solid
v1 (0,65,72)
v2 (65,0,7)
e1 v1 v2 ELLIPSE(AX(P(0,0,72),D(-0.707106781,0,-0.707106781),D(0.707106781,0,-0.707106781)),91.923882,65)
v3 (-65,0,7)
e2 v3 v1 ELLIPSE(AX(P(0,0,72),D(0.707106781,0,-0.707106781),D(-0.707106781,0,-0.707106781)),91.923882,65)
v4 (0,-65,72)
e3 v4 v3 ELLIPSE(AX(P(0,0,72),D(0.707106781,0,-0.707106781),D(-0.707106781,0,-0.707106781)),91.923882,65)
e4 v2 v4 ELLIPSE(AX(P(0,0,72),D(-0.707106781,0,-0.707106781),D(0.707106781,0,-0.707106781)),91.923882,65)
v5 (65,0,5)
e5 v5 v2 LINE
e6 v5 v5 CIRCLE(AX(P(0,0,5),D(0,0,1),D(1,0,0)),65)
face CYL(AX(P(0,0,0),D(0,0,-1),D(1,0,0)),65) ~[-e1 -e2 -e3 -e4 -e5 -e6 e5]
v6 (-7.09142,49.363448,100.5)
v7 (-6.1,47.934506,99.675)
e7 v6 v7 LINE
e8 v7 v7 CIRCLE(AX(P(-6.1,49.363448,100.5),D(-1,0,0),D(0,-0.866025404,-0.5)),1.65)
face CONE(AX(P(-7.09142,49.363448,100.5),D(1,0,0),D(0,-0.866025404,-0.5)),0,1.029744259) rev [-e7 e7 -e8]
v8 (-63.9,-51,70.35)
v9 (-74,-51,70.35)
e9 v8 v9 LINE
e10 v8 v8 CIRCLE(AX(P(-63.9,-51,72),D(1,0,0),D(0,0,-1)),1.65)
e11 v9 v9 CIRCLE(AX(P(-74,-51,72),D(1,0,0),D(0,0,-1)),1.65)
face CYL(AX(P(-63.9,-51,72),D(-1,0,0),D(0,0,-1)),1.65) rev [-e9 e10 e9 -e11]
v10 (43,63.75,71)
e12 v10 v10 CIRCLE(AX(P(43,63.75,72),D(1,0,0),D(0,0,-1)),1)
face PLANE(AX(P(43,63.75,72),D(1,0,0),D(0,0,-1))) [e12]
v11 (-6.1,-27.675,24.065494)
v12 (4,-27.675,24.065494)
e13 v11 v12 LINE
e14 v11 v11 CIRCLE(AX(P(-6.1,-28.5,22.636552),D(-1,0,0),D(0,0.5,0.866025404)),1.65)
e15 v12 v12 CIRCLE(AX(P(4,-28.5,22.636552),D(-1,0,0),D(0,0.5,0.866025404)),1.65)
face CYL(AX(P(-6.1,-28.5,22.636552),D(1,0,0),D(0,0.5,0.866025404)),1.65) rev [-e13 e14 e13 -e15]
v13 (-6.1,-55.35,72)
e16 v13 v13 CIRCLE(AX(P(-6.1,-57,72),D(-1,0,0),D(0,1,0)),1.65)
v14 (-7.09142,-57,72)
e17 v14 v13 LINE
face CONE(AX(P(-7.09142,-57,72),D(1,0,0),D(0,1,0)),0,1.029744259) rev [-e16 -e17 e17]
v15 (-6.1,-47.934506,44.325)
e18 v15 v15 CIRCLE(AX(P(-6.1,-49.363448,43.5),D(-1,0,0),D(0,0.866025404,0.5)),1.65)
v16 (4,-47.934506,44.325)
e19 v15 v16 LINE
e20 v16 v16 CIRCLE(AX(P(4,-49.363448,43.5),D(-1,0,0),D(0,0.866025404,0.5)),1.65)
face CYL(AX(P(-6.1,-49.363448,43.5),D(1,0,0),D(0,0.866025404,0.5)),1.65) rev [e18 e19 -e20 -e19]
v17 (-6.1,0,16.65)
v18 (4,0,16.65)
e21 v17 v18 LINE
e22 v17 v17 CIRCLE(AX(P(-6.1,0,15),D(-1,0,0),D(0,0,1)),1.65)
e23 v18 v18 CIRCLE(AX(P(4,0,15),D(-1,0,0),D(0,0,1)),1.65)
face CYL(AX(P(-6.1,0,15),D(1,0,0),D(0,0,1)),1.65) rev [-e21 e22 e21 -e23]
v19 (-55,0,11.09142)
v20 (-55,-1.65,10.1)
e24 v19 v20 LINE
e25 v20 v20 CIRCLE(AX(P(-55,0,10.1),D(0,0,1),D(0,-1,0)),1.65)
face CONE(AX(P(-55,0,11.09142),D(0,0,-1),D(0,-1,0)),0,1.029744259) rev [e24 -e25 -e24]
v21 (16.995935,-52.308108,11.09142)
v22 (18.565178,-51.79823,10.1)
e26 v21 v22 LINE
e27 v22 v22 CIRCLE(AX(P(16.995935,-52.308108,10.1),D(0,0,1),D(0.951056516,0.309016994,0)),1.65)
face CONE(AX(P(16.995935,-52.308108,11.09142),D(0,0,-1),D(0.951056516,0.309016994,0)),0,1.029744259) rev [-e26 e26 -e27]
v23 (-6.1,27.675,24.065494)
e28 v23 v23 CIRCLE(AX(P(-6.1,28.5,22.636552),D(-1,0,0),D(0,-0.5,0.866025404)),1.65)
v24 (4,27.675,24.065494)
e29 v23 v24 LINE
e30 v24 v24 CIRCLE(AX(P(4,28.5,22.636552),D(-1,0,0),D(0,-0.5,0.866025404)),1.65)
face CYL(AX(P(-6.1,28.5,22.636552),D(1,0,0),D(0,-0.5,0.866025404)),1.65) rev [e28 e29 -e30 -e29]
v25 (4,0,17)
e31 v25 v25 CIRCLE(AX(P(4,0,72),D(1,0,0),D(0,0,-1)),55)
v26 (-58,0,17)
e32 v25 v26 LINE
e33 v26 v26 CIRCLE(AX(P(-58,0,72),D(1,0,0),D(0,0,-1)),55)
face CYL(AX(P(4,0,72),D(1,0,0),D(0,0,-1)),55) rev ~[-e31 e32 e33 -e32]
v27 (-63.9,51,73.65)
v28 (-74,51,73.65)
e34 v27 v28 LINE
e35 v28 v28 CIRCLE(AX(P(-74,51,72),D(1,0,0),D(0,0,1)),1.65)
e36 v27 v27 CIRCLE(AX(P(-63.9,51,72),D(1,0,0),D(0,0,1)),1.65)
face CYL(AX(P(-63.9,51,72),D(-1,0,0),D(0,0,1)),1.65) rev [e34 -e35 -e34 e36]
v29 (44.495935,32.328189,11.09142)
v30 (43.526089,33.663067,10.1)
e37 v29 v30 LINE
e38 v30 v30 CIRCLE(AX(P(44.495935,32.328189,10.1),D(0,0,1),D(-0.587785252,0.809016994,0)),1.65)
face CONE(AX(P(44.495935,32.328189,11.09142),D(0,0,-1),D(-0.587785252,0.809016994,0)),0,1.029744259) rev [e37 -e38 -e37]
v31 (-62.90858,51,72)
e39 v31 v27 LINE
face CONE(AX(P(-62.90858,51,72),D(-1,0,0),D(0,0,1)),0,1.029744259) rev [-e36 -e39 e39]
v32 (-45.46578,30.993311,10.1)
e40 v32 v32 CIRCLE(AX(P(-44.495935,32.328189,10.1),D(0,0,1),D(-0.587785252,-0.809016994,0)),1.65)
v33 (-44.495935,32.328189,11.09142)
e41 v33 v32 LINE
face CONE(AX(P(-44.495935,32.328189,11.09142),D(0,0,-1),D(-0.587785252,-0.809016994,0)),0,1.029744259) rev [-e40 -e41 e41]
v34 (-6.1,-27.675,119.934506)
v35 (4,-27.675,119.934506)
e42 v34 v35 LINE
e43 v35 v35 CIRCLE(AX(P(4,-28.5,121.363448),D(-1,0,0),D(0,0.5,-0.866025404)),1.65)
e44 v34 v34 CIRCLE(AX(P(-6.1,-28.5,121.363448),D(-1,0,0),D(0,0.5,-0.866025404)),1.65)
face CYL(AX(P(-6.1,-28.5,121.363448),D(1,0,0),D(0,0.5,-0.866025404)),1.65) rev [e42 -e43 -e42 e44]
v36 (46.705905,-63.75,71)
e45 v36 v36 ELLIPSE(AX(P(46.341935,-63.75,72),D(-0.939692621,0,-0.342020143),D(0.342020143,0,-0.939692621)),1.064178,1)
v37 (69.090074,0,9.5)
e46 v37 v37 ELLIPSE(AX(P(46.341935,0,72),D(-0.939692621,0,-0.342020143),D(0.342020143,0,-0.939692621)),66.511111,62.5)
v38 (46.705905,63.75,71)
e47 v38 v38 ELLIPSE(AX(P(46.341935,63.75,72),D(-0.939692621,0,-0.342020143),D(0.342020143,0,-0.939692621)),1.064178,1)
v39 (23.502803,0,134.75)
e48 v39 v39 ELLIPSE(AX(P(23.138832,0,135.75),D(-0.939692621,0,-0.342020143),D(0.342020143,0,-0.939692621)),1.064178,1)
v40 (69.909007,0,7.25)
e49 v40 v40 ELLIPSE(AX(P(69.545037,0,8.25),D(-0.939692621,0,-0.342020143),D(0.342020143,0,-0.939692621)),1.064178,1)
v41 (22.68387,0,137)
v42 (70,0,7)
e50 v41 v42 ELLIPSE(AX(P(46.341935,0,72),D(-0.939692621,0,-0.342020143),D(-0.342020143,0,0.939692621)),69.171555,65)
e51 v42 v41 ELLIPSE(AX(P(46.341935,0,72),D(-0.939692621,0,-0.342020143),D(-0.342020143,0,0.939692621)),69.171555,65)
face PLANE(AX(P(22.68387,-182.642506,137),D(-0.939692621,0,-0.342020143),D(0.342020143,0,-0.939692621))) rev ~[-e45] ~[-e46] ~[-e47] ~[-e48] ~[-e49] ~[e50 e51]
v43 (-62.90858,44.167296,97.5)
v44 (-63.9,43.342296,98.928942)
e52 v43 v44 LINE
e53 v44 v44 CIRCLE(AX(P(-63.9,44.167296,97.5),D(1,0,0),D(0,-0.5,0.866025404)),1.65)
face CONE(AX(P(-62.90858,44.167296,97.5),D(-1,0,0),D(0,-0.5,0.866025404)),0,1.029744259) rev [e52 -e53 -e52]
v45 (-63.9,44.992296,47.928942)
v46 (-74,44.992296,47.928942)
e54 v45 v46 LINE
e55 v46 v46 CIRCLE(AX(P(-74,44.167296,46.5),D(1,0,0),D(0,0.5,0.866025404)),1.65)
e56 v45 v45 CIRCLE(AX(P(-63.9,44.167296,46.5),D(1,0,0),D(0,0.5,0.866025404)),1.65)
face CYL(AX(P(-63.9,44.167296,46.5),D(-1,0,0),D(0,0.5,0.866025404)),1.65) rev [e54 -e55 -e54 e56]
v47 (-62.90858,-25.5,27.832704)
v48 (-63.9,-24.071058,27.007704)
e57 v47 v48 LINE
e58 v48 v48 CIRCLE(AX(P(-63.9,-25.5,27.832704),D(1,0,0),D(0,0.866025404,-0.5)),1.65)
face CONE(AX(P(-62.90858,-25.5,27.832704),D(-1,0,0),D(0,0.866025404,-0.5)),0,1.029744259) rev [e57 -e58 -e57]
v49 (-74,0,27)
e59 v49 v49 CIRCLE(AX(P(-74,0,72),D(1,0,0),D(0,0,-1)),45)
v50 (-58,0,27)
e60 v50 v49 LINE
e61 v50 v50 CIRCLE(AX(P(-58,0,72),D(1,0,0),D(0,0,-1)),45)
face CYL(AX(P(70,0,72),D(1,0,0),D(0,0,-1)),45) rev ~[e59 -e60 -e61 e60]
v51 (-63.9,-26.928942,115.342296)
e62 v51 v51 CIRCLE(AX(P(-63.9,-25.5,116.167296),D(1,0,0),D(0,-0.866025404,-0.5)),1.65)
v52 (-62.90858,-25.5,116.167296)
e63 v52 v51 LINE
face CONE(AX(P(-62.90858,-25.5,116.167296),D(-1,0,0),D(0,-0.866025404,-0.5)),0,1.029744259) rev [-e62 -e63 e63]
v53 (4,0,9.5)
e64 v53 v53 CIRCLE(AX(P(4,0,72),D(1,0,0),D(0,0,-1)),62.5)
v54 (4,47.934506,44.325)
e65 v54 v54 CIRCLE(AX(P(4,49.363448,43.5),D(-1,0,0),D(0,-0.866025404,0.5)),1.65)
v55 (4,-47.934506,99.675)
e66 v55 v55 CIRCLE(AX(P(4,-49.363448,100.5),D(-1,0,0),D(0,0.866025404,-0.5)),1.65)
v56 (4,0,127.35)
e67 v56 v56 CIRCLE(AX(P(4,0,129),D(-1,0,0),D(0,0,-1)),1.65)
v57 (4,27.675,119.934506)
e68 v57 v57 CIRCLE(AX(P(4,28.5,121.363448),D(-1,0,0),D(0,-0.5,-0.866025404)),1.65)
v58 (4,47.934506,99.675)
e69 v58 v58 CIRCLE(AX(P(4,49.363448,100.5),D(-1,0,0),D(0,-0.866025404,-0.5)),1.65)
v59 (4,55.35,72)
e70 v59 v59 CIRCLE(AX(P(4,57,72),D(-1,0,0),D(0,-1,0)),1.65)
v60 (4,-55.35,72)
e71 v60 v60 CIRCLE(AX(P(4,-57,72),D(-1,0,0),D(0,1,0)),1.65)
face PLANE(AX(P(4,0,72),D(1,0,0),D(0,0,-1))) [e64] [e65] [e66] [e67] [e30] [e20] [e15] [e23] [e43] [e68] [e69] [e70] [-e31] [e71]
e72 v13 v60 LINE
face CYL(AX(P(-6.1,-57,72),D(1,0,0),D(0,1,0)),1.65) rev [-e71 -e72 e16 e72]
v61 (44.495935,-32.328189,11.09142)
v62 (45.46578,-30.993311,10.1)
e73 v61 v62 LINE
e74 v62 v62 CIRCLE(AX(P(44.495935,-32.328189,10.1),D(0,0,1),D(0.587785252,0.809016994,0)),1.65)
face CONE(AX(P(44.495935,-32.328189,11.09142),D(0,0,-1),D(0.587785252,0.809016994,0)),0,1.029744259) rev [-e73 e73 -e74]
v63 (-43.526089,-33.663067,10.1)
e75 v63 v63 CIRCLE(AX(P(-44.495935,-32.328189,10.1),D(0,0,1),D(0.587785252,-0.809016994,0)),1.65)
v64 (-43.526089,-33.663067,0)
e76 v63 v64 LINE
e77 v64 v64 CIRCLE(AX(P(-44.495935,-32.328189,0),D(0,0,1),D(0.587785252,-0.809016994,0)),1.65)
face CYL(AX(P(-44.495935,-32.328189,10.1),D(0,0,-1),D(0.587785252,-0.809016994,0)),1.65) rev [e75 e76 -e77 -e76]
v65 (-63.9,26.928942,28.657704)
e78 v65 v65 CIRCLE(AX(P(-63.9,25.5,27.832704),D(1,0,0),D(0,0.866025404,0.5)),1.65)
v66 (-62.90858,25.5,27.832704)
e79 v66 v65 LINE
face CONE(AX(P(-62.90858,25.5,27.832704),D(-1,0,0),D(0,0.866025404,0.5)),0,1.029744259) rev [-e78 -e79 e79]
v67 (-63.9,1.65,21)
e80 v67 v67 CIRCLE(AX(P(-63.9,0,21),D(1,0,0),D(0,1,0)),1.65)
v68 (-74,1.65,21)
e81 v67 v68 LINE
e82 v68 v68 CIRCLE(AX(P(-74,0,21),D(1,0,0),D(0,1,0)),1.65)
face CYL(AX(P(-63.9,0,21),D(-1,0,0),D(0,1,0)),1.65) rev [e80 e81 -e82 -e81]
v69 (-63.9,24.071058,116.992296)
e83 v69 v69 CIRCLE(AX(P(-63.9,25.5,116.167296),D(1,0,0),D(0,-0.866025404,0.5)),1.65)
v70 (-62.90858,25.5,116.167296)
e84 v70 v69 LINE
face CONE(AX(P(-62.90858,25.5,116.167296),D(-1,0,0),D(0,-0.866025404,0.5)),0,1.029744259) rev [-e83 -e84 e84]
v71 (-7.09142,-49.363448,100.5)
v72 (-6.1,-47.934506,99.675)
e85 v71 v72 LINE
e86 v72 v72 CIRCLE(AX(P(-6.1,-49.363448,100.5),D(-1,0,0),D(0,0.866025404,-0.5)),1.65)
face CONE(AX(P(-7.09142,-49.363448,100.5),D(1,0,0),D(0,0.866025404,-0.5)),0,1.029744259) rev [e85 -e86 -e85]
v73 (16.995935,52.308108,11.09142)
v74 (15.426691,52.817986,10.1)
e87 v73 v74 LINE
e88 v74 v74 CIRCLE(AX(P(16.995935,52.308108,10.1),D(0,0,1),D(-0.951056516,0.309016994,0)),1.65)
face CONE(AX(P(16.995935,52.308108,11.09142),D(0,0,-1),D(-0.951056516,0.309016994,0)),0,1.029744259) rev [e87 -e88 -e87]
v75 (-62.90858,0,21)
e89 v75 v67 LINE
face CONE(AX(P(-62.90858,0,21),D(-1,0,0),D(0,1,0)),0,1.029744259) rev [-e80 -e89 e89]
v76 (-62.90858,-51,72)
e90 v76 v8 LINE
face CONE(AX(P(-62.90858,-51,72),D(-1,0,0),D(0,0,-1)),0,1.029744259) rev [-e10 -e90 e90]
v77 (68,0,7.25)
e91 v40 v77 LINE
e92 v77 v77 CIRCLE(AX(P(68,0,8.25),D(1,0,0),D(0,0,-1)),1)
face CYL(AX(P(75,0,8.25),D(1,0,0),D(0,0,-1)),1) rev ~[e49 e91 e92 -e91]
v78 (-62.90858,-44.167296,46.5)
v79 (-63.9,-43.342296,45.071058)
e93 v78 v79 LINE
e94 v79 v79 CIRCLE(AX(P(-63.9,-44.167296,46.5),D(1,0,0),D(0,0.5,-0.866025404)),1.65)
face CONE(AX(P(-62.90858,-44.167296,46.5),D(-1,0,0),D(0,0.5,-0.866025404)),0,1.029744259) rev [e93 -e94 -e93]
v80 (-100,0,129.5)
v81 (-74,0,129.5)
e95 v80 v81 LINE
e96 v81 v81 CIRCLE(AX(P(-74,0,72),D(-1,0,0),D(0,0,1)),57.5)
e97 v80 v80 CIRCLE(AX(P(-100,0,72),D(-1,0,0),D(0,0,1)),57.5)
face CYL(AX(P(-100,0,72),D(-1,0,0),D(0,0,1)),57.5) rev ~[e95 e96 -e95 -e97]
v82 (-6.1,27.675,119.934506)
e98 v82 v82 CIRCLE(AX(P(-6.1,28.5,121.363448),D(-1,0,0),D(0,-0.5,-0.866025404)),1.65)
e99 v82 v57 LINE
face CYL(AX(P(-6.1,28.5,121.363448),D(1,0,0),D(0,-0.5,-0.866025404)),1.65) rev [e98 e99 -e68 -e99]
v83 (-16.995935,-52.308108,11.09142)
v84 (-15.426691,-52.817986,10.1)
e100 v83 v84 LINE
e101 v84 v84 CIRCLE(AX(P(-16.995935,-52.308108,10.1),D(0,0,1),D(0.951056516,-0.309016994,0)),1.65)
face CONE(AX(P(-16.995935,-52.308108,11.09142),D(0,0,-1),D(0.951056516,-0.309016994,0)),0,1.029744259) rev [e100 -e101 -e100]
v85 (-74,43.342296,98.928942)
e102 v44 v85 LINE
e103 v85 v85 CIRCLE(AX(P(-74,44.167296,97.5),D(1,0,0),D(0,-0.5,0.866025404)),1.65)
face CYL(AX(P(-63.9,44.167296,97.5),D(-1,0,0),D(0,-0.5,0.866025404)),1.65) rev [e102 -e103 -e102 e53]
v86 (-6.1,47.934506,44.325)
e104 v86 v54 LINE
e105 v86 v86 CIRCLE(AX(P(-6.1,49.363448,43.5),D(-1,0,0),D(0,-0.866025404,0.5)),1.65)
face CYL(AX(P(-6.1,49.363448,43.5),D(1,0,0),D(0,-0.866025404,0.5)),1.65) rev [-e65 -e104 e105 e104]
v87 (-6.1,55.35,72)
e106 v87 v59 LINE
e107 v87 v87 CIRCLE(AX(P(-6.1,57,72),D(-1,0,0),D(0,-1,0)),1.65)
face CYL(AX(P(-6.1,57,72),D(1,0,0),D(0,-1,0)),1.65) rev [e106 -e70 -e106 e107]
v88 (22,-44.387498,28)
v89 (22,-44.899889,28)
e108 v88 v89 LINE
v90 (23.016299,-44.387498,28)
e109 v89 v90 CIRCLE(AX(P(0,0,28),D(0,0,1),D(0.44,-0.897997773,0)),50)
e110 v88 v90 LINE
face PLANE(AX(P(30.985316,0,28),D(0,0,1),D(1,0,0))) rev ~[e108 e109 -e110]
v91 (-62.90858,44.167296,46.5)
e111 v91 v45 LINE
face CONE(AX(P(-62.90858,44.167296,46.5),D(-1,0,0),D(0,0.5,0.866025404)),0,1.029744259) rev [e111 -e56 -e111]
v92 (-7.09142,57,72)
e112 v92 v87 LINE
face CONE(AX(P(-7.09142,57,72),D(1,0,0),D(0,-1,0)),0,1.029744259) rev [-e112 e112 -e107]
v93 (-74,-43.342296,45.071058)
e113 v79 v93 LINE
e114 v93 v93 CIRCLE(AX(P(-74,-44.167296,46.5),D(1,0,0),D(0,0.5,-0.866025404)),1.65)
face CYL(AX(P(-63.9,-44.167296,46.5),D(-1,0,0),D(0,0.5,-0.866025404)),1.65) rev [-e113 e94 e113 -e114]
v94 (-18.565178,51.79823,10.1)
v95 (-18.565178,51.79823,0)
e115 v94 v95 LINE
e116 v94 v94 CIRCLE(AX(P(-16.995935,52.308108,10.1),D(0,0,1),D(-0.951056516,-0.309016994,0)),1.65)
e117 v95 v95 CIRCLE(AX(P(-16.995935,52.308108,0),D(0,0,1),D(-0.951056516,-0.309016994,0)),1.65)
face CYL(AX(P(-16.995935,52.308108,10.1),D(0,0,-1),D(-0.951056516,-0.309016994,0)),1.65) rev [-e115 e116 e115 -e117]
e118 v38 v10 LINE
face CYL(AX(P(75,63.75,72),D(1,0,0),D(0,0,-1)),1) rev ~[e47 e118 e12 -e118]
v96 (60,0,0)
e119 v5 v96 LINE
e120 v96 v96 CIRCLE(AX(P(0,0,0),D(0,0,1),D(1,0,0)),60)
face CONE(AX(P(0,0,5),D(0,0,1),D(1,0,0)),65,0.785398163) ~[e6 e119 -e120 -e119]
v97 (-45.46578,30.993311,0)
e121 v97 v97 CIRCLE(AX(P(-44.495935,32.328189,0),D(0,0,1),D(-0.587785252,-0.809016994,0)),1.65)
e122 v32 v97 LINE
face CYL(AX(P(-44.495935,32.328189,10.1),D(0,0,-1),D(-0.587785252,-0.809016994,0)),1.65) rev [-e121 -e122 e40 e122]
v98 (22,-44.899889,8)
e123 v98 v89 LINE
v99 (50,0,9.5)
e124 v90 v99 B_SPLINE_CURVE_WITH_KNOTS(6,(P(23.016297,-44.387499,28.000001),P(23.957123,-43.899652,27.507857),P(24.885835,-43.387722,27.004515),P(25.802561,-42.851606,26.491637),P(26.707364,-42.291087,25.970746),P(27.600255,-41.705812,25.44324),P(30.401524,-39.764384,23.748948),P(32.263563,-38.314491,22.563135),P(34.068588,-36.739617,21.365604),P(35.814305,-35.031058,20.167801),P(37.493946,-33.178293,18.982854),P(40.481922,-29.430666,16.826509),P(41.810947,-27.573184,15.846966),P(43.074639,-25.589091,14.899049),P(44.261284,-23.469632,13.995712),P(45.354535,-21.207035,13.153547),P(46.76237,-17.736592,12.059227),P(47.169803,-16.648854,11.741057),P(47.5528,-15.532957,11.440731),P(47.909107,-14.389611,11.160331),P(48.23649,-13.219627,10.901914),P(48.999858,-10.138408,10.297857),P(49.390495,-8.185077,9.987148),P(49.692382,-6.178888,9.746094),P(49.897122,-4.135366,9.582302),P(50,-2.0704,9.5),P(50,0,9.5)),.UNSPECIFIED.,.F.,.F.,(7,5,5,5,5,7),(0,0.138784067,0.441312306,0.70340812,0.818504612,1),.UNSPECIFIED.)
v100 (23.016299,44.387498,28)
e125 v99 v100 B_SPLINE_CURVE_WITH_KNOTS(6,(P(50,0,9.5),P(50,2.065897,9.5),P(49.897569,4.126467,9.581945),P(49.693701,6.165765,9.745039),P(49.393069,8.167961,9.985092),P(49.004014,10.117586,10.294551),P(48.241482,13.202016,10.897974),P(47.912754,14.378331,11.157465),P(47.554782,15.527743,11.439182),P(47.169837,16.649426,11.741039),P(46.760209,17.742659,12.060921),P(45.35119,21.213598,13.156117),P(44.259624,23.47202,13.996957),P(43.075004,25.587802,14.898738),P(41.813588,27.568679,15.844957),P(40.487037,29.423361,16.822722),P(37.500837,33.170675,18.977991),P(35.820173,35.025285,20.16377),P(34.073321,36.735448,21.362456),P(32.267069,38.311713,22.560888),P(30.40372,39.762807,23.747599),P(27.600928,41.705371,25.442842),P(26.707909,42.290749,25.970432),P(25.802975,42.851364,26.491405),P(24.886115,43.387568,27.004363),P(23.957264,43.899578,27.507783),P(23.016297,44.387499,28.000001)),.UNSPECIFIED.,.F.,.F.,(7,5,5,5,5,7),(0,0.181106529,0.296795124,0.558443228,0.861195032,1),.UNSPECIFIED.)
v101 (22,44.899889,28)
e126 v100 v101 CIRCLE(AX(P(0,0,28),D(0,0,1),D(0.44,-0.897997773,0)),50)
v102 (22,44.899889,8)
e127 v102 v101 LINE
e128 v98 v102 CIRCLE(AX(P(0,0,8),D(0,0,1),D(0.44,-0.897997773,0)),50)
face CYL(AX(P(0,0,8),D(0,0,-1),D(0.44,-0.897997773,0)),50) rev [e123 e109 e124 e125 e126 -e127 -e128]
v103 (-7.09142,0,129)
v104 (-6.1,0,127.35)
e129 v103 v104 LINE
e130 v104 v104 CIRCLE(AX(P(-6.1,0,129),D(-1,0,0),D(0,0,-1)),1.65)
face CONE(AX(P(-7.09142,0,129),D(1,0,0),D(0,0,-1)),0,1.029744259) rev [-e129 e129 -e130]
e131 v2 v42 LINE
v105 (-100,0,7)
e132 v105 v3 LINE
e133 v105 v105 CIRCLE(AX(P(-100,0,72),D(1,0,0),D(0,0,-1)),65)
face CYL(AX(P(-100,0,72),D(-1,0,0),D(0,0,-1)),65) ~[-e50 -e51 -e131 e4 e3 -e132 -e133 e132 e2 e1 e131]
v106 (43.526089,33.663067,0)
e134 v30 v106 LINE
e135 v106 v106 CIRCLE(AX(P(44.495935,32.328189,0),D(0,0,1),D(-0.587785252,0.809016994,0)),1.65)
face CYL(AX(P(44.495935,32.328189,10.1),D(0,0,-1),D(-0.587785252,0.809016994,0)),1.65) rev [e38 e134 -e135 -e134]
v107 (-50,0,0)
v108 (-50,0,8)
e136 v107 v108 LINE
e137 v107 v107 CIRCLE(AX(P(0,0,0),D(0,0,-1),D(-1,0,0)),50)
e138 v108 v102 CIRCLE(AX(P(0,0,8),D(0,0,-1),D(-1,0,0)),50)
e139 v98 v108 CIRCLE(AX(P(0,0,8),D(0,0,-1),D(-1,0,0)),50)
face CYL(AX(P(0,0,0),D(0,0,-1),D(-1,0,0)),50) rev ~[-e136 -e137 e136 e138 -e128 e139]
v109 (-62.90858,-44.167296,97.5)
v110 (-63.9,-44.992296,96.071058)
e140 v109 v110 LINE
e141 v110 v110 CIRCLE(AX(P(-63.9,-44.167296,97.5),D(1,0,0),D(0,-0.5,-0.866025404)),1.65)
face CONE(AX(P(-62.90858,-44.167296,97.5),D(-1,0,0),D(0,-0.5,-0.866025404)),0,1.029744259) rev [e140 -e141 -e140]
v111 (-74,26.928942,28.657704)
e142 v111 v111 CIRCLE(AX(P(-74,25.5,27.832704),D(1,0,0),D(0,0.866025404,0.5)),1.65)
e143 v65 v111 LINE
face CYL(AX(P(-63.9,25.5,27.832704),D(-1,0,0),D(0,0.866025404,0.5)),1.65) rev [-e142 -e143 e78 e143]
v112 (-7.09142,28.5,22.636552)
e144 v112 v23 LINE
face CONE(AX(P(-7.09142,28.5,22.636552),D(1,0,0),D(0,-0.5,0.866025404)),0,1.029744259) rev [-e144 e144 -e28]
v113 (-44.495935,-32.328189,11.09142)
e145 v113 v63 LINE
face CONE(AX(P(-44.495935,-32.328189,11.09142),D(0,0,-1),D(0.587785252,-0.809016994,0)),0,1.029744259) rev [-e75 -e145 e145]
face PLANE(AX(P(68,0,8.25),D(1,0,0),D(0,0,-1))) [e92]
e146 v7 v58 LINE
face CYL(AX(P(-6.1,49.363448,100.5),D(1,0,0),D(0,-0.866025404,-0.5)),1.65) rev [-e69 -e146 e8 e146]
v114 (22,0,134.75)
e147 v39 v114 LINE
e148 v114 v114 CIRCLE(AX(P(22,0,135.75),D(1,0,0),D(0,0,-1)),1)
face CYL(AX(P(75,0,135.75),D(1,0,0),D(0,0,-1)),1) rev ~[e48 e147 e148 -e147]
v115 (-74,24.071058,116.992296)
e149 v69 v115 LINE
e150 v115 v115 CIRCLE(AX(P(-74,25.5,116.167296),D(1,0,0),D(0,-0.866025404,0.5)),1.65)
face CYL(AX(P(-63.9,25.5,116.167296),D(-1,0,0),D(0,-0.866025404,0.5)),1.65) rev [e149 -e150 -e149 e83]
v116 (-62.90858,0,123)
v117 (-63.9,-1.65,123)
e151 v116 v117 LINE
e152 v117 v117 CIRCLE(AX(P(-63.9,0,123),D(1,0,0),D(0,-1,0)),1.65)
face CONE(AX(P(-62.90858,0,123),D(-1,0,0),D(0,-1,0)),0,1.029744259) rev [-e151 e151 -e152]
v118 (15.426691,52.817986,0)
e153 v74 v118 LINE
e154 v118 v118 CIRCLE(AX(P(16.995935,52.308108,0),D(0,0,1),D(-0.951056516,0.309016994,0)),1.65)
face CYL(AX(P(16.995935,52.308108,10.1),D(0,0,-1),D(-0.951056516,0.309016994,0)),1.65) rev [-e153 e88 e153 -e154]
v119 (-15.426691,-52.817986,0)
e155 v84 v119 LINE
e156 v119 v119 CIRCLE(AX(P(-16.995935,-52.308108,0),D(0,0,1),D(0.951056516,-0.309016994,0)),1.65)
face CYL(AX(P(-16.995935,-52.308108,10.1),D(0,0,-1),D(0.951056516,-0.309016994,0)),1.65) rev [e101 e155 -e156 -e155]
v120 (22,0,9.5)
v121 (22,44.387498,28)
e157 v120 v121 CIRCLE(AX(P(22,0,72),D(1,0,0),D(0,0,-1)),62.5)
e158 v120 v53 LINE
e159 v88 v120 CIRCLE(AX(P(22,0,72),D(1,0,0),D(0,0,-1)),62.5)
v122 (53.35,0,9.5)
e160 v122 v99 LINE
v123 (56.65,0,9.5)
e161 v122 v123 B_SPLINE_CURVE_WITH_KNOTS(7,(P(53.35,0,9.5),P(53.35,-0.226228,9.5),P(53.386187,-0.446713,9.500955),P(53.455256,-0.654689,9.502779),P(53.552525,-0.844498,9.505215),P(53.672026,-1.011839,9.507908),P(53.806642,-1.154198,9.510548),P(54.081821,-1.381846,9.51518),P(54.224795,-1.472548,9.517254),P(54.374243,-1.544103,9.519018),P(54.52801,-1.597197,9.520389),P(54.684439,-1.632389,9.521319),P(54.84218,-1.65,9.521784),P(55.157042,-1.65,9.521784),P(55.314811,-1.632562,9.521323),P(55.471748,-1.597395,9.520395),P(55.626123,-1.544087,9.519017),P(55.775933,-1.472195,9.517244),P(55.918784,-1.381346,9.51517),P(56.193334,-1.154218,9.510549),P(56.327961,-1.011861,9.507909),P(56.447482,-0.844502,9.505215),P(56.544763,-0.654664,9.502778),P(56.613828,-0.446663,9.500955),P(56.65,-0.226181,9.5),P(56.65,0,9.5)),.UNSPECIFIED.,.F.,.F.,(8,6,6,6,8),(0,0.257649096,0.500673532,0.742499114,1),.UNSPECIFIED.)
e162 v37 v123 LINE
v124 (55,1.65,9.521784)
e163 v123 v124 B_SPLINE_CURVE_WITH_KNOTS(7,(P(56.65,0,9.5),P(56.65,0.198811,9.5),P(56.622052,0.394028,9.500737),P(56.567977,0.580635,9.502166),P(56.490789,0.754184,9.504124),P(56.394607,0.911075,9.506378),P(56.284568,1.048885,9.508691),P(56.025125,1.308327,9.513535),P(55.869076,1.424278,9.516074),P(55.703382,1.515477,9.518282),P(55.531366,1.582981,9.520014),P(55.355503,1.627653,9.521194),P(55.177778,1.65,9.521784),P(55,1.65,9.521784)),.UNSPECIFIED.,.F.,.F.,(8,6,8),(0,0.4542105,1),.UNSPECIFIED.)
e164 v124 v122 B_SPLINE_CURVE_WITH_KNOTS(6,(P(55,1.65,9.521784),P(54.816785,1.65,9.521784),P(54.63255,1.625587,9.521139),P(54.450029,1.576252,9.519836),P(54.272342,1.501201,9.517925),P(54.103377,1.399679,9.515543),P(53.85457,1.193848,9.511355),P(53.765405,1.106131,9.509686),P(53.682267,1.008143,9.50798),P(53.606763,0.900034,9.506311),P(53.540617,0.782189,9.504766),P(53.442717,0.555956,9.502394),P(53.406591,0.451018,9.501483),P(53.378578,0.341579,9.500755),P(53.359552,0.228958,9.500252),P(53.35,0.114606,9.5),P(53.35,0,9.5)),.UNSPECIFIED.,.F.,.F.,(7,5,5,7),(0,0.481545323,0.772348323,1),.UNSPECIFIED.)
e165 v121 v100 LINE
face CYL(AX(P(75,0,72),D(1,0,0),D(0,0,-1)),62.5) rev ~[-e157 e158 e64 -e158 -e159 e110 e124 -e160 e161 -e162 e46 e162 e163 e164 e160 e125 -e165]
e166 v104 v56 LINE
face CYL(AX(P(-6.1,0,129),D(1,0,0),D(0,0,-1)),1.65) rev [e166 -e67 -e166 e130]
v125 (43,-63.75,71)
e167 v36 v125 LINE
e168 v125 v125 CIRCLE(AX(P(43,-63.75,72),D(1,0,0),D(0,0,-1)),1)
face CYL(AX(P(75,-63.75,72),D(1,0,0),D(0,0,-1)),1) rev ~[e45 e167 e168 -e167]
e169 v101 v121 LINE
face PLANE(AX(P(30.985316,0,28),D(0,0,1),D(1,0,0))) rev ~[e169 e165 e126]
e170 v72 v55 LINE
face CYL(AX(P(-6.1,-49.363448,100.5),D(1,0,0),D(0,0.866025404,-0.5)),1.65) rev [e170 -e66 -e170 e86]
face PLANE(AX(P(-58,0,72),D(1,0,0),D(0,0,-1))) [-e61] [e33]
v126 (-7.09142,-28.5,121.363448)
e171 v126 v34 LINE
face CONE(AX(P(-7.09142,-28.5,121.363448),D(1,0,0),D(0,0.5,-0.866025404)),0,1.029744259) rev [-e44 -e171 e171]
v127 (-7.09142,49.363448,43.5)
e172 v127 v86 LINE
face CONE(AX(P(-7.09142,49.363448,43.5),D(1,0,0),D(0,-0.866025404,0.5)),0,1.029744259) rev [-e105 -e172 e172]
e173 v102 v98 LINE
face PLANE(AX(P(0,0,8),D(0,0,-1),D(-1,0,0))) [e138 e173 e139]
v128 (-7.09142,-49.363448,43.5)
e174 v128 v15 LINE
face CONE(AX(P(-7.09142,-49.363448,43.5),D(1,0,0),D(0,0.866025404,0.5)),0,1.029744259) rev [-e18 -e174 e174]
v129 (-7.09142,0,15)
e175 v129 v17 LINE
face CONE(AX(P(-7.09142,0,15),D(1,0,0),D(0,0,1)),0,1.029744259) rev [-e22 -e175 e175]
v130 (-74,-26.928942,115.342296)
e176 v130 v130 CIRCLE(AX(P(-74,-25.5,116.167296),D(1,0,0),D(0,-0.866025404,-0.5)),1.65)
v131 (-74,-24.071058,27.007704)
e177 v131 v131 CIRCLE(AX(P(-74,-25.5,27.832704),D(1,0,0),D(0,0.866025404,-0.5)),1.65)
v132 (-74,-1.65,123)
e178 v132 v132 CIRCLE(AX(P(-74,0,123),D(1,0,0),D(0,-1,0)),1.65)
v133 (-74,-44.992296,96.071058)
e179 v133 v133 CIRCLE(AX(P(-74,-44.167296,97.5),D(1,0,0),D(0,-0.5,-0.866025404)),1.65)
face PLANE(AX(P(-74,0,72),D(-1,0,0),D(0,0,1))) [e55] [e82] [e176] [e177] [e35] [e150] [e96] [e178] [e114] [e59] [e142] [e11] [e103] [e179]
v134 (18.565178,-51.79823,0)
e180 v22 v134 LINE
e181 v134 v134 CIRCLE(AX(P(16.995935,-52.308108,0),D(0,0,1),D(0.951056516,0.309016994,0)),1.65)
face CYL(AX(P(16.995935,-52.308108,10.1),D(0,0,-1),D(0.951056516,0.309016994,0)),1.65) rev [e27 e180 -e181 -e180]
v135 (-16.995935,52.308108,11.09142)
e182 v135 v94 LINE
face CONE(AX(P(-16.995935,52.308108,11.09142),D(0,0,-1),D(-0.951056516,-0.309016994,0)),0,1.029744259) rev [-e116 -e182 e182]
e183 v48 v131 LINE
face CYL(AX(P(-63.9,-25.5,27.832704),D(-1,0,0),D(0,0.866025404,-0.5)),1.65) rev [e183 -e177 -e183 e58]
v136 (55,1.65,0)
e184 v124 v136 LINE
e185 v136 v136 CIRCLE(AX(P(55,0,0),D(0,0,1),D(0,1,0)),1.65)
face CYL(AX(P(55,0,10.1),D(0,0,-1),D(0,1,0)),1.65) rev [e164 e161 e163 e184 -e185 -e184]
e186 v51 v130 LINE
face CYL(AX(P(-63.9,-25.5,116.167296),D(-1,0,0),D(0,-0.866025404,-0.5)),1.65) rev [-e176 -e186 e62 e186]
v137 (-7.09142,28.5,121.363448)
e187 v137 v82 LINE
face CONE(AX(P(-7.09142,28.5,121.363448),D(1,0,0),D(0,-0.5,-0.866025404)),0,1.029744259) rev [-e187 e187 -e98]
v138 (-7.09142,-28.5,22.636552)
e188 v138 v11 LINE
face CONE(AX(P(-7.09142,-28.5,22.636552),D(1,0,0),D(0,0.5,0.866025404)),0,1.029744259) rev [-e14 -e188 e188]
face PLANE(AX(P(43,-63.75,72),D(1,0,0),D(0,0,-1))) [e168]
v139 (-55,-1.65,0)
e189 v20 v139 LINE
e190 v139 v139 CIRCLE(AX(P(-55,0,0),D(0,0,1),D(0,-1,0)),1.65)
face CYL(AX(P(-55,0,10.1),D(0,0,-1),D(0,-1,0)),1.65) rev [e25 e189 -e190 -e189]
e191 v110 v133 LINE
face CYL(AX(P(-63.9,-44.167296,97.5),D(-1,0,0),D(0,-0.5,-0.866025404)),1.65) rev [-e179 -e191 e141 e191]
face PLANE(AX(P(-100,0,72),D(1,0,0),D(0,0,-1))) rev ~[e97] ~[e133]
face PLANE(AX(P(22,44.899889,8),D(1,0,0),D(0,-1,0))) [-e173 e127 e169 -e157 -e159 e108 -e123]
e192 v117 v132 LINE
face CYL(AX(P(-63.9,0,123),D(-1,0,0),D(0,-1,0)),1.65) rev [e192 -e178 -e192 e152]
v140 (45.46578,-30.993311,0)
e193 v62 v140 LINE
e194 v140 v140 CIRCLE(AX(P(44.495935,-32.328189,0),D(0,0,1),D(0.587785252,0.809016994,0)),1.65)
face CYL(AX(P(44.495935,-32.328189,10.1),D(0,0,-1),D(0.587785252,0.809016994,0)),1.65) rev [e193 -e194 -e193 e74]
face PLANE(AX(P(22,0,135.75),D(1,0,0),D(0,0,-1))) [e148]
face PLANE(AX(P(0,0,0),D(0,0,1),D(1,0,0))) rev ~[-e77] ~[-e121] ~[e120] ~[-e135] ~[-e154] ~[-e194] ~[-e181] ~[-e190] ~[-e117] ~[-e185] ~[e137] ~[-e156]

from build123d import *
from build123d.topology import SkipClean

# Parameters (mm, degrees)
SKETCH_1_R               = 65
EXTRUDE_1_DEPTH          = 72
EXTRUDE_2_DEPTH          = 70
EXTRUDE_2_DEPTH_BACK     = 100
SKETCH_2_R               = 65
SKETCH_3_R               = 45
CUT_EXTRUDE_1_DEPTH      = 228.802546079
CUT_EXTRUDE_3_DEPTH      = 182.642506039
CUT_EXTRUDE_3_DEPTH_BACK = 182.642506039
SKETCH_6_R               = 57.5
CUT_EXTRUDE_4_DEPTH      = 26
SKETCH_7_R               = 62.5
CUT_EXTRUDE_5_DEPTH      = 71
SKETCH_8_R               = 55
CUT_EXTRUDE_6_DEPTH      = 62
PATTERN_CIRCULAR_1_COUNT = 12
PATTERN_CIRCULAR_2_COUNT = 12
SKETCH_18_R              = 1
CUT_EXTRUDE_17_DEPTH     = 32
SKETCH_19_R              = 1
CUT_EXTRUDE_18_DEPTH     = 53
SKETCH_20_R              = 1
CUT_EXTRUDE_19_DEPTH     = 7
CHAMFER_3_SIZE           = 5
SKETCH_29_R              = 50
CUT_EXTRUDE_23_DEPTH     = 8
PATTERN_CIRCULAR_3_COUNT = 10
CUT_EXTRUDE_24_DEPTH     = 20


with BuildPart() as part:
    # 草图1 → 凸台-拉伸1 (new body)
    with BuildSketch(Plane.XY):
        Circle(SKETCH_1_R)
    extrude(amount=EXTRUDE_1_DEPTH)

    # 草图2 → 凸台-拉伸2 (add, two sides: drawn at the far end of the back side and taken through both)
    with BuildSketch(Plane(origin=(0, 0, 0), x_dir=(0, 0, -1), z_dir=(1, 0, 0)).offset(-EXTRUDE_2_DEPTH_BACK)):
        with Locations((-72, 0)):
            Circle(SKETCH_2_R)
    extrude(amount=EXTRUDE_2_DEPTH + EXTRUDE_2_DEPTH_BACK)

    # 草图3 → 切除-拉伸1 (cut, through all)
    with BuildSketch(Plane(origin=(70, 0, 0), x_dir=(0, 0, -1), z_dir=(1, 0, 0))):
        with Locations((-72, 0)):
            Circle(SKETCH_3_R)
    extrude(amount=-CUT_EXTRUDE_1_DEPTH, mode=Mode.SUBTRACT)

    # 草图5 → 切除-拉伸3 (cut, two sides: drawn at the far end of the back side and taken through both)
    with BuildSketch(Plane(origin=(0, 0, 0), x_dir=(1, 0, 0), z_dir=(0, 1, 0)).offset(-CUT_EXTRUDE_3_DEPTH_BACK)):
        Polygon((70, -7), (70, -137), (22.683869545, -137), align=None)
    extrude(amount=CUT_EXTRUDE_3_DEPTH + CUT_EXTRUDE_3_DEPTH_BACK, mode=Mode.SUBTRACT)

    # 草图6 → 切除-拉伸4 (cut)
    with BuildSketch(Plane.ZY.offset(100)):
        with Locations((72, 0)):
            Circle(SKETCH_6_R)
    extrude(amount=-CUT_EXTRUDE_4_DEPTH, mode=Mode.SUBTRACT)

    # 草图7 → 切除-拉伸5 (cut)
    with BuildSketch(Plane(origin=(75, 0, 0), x_dir=(0, 0, -1), z_dir=(1, 0, 0))):
        with Locations((-72, 0)):
            Circle(SKETCH_7_R)
    extrude(amount=-CUT_EXTRUDE_5_DEPTH, mode=Mode.SUBTRACT)

    # 草图8 → 切除-拉伸6 (cut)
    with BuildSketch(Plane(origin=(4, 0, 0), x_dir=(0, 0, -1), z_dir=(1, 0, 0))):
        with Locations((-72, 0)):
            Circle(SKETCH_8_R)
    extrude(amount=-CUT_EXTRUDE_6_DEPTH, mode=Mode.SUBTRACT)

    # 草图9 → M4 螺纹孔1 (revolve, cut)
    with BuildSketch(Plane(origin=(-74, 51, 72), x_dir=(0, 0, 1), z_dir=(0, 1, 0))):
        Polygon((0, 0), (0, 11.091420021), (1.65, 10.1), (1.65, 0), align=None)
    hole_wizard_m4_1 = revolve(axis=Axis((-80.35, 51, 72), (1, 0, 0)), mode=Mode.SUBTRACT)

    # 阵列(圆周)1: M4 螺纹孔1 ×12 about axis
    pattern_circular_1_axis = Axis((0, 0, 72), (1, 0, 0))
    for i in range(1, PATTERN_CIRCULAR_1_COUNT):
        add(hole_wizard_m4_1.rotate(pattern_circular_1_axis, i * 360 / PATTERN_CIRCULAR_1_COUNT), mode=Mode.SUBTRACT)

    # 草图11 → M4 螺纹孔2 (revolve, cut)
    with BuildSketch(Plane(origin=(4, 0, 129), x_dir=(0, 0, -1), z_dir=(0, 1, 0))):
        Polygon((0, 0), (0, 11.091420021), (1.65, 10.1), (1.65, 0), align=None)
    hole_wizard_m4_2 = revolve(axis=Axis((10.35, 0, 129), (-1, 0, 0)), mode=Mode.SUBTRACT)

    # 阵列(圆周)2: M4 螺纹孔2 ×12 about axis
    pattern_circular_2_axis = Axis((0, 0, 72), (1, 0, 0))
    for i in range(1, PATTERN_CIRCULAR_2_COUNT):
        add(hole_wizard_m4_2.rotate(pattern_circular_2_axis, i * 360 / PATTERN_CIRCULAR_2_COUNT), mode=Mode.SUBTRACT)

    # 草图18 → 切除-拉伸17 (cut)
    with BuildSketch(Plane(origin=(75, 0, 0), x_dir=(0, 0, -1), z_dir=(1, 0, 0))):
        with Locations((-72, 63.75)):
            Circle(SKETCH_18_R)
        with Locations((-72, -63.75)):
            Circle(SKETCH_18_R)
    extrude(amount=-CUT_EXTRUDE_17_DEPTH, mode=Mode.SUBTRACT)

    # 草图19 → 切除-拉伸18 (cut)
    with BuildSketch(Plane(origin=(75, 0, 0), x_dir=(0, 0, -1), z_dir=(1, 0, 0))):
        with Locations((-135.75, 0)):
            Circle(SKETCH_19_R)
    extrude(amount=-CUT_EXTRUDE_18_DEPTH, mode=Mode.SUBTRACT)

    # 草图20 → 切除-拉伸19 (cut)
    with BuildSketch(Plane(origin=(75, 0, 0), x_dir=(0, 0, -1), z_dir=(1, 0, 0))):
        with Locations((-8.25, 0)):
            Circle(SKETCH_20_R)
    extrude(amount=-CUT_EXTRUDE_19_DEPTH, mode=Mode.SUBTRACT)

    # 倒角3
    chamfer_3_edges = [part.edges().sort_by_distance(p)[0] for p in [
        (-65, 0, 0),
    ]]
    chamfer(chamfer_3_edges, length=CHAMFER_3_SIZE)

    # 草图27 → M4 螺纹孔4 (revolve, cut)
    with BuildSketch(Plane.YZ.offset(55)):
        Polygon((0, 0), (0, 11.091420021), (1.65, 10.1), (1.65, 0), align=None)
    hole_wizard_m4_4 = revolve(axis=Axis((55, 0, -6.35), (0, 0, 1)), mode=Mode.SUBTRACT)

    # 草图29 → 切除-拉伸23 (cut)
    with BuildSketch(Plane(origin=(0, 0, 0), x_dir=(-1, 0, 0), z_dir=(0, 0, -1))):
        Circle(SKETCH_29_R)
    extrude(amount=-CUT_EXTRUDE_23_DEPTH, mode=Mode.SUBTRACT)

    # 阵列(圆周)3: M4 螺纹孔4 ×10 about axis
    pattern_circular_3_axis = Axis((0, 0, 0), (0, 0, 1))
    for i in range(1, PATTERN_CIRCULAR_3_COUNT):
        add(hole_wizard_m4_4.rotate(pattern_circular_3_axis, i * 360 / PATTERN_CIRCULAR_3_COUNT), mode=Mode.SUBTRACT)

    # 草图30 → 切除-拉伸24 (cut)
    with SkipClean():  # the faces are left unmerged after this step: merging them gives an invalid solid
        with BuildSketch(Plane(origin=(0, 0, 8), x_dir=(-1, 0, 0), z_dir=(0, 0, -1))):
            with BuildLine():
                Line((-22, 44.899888641), (-22, -44.899888641))
                ThreePointArc((-22, -44.899888641), (-50, 0), (-22, 44.899888641))
            make_face()
        extrude(amount=-CUT_EXTRUDE_24_DEPTH, mode=Mode.SUBTRACT)


solid = part.part
